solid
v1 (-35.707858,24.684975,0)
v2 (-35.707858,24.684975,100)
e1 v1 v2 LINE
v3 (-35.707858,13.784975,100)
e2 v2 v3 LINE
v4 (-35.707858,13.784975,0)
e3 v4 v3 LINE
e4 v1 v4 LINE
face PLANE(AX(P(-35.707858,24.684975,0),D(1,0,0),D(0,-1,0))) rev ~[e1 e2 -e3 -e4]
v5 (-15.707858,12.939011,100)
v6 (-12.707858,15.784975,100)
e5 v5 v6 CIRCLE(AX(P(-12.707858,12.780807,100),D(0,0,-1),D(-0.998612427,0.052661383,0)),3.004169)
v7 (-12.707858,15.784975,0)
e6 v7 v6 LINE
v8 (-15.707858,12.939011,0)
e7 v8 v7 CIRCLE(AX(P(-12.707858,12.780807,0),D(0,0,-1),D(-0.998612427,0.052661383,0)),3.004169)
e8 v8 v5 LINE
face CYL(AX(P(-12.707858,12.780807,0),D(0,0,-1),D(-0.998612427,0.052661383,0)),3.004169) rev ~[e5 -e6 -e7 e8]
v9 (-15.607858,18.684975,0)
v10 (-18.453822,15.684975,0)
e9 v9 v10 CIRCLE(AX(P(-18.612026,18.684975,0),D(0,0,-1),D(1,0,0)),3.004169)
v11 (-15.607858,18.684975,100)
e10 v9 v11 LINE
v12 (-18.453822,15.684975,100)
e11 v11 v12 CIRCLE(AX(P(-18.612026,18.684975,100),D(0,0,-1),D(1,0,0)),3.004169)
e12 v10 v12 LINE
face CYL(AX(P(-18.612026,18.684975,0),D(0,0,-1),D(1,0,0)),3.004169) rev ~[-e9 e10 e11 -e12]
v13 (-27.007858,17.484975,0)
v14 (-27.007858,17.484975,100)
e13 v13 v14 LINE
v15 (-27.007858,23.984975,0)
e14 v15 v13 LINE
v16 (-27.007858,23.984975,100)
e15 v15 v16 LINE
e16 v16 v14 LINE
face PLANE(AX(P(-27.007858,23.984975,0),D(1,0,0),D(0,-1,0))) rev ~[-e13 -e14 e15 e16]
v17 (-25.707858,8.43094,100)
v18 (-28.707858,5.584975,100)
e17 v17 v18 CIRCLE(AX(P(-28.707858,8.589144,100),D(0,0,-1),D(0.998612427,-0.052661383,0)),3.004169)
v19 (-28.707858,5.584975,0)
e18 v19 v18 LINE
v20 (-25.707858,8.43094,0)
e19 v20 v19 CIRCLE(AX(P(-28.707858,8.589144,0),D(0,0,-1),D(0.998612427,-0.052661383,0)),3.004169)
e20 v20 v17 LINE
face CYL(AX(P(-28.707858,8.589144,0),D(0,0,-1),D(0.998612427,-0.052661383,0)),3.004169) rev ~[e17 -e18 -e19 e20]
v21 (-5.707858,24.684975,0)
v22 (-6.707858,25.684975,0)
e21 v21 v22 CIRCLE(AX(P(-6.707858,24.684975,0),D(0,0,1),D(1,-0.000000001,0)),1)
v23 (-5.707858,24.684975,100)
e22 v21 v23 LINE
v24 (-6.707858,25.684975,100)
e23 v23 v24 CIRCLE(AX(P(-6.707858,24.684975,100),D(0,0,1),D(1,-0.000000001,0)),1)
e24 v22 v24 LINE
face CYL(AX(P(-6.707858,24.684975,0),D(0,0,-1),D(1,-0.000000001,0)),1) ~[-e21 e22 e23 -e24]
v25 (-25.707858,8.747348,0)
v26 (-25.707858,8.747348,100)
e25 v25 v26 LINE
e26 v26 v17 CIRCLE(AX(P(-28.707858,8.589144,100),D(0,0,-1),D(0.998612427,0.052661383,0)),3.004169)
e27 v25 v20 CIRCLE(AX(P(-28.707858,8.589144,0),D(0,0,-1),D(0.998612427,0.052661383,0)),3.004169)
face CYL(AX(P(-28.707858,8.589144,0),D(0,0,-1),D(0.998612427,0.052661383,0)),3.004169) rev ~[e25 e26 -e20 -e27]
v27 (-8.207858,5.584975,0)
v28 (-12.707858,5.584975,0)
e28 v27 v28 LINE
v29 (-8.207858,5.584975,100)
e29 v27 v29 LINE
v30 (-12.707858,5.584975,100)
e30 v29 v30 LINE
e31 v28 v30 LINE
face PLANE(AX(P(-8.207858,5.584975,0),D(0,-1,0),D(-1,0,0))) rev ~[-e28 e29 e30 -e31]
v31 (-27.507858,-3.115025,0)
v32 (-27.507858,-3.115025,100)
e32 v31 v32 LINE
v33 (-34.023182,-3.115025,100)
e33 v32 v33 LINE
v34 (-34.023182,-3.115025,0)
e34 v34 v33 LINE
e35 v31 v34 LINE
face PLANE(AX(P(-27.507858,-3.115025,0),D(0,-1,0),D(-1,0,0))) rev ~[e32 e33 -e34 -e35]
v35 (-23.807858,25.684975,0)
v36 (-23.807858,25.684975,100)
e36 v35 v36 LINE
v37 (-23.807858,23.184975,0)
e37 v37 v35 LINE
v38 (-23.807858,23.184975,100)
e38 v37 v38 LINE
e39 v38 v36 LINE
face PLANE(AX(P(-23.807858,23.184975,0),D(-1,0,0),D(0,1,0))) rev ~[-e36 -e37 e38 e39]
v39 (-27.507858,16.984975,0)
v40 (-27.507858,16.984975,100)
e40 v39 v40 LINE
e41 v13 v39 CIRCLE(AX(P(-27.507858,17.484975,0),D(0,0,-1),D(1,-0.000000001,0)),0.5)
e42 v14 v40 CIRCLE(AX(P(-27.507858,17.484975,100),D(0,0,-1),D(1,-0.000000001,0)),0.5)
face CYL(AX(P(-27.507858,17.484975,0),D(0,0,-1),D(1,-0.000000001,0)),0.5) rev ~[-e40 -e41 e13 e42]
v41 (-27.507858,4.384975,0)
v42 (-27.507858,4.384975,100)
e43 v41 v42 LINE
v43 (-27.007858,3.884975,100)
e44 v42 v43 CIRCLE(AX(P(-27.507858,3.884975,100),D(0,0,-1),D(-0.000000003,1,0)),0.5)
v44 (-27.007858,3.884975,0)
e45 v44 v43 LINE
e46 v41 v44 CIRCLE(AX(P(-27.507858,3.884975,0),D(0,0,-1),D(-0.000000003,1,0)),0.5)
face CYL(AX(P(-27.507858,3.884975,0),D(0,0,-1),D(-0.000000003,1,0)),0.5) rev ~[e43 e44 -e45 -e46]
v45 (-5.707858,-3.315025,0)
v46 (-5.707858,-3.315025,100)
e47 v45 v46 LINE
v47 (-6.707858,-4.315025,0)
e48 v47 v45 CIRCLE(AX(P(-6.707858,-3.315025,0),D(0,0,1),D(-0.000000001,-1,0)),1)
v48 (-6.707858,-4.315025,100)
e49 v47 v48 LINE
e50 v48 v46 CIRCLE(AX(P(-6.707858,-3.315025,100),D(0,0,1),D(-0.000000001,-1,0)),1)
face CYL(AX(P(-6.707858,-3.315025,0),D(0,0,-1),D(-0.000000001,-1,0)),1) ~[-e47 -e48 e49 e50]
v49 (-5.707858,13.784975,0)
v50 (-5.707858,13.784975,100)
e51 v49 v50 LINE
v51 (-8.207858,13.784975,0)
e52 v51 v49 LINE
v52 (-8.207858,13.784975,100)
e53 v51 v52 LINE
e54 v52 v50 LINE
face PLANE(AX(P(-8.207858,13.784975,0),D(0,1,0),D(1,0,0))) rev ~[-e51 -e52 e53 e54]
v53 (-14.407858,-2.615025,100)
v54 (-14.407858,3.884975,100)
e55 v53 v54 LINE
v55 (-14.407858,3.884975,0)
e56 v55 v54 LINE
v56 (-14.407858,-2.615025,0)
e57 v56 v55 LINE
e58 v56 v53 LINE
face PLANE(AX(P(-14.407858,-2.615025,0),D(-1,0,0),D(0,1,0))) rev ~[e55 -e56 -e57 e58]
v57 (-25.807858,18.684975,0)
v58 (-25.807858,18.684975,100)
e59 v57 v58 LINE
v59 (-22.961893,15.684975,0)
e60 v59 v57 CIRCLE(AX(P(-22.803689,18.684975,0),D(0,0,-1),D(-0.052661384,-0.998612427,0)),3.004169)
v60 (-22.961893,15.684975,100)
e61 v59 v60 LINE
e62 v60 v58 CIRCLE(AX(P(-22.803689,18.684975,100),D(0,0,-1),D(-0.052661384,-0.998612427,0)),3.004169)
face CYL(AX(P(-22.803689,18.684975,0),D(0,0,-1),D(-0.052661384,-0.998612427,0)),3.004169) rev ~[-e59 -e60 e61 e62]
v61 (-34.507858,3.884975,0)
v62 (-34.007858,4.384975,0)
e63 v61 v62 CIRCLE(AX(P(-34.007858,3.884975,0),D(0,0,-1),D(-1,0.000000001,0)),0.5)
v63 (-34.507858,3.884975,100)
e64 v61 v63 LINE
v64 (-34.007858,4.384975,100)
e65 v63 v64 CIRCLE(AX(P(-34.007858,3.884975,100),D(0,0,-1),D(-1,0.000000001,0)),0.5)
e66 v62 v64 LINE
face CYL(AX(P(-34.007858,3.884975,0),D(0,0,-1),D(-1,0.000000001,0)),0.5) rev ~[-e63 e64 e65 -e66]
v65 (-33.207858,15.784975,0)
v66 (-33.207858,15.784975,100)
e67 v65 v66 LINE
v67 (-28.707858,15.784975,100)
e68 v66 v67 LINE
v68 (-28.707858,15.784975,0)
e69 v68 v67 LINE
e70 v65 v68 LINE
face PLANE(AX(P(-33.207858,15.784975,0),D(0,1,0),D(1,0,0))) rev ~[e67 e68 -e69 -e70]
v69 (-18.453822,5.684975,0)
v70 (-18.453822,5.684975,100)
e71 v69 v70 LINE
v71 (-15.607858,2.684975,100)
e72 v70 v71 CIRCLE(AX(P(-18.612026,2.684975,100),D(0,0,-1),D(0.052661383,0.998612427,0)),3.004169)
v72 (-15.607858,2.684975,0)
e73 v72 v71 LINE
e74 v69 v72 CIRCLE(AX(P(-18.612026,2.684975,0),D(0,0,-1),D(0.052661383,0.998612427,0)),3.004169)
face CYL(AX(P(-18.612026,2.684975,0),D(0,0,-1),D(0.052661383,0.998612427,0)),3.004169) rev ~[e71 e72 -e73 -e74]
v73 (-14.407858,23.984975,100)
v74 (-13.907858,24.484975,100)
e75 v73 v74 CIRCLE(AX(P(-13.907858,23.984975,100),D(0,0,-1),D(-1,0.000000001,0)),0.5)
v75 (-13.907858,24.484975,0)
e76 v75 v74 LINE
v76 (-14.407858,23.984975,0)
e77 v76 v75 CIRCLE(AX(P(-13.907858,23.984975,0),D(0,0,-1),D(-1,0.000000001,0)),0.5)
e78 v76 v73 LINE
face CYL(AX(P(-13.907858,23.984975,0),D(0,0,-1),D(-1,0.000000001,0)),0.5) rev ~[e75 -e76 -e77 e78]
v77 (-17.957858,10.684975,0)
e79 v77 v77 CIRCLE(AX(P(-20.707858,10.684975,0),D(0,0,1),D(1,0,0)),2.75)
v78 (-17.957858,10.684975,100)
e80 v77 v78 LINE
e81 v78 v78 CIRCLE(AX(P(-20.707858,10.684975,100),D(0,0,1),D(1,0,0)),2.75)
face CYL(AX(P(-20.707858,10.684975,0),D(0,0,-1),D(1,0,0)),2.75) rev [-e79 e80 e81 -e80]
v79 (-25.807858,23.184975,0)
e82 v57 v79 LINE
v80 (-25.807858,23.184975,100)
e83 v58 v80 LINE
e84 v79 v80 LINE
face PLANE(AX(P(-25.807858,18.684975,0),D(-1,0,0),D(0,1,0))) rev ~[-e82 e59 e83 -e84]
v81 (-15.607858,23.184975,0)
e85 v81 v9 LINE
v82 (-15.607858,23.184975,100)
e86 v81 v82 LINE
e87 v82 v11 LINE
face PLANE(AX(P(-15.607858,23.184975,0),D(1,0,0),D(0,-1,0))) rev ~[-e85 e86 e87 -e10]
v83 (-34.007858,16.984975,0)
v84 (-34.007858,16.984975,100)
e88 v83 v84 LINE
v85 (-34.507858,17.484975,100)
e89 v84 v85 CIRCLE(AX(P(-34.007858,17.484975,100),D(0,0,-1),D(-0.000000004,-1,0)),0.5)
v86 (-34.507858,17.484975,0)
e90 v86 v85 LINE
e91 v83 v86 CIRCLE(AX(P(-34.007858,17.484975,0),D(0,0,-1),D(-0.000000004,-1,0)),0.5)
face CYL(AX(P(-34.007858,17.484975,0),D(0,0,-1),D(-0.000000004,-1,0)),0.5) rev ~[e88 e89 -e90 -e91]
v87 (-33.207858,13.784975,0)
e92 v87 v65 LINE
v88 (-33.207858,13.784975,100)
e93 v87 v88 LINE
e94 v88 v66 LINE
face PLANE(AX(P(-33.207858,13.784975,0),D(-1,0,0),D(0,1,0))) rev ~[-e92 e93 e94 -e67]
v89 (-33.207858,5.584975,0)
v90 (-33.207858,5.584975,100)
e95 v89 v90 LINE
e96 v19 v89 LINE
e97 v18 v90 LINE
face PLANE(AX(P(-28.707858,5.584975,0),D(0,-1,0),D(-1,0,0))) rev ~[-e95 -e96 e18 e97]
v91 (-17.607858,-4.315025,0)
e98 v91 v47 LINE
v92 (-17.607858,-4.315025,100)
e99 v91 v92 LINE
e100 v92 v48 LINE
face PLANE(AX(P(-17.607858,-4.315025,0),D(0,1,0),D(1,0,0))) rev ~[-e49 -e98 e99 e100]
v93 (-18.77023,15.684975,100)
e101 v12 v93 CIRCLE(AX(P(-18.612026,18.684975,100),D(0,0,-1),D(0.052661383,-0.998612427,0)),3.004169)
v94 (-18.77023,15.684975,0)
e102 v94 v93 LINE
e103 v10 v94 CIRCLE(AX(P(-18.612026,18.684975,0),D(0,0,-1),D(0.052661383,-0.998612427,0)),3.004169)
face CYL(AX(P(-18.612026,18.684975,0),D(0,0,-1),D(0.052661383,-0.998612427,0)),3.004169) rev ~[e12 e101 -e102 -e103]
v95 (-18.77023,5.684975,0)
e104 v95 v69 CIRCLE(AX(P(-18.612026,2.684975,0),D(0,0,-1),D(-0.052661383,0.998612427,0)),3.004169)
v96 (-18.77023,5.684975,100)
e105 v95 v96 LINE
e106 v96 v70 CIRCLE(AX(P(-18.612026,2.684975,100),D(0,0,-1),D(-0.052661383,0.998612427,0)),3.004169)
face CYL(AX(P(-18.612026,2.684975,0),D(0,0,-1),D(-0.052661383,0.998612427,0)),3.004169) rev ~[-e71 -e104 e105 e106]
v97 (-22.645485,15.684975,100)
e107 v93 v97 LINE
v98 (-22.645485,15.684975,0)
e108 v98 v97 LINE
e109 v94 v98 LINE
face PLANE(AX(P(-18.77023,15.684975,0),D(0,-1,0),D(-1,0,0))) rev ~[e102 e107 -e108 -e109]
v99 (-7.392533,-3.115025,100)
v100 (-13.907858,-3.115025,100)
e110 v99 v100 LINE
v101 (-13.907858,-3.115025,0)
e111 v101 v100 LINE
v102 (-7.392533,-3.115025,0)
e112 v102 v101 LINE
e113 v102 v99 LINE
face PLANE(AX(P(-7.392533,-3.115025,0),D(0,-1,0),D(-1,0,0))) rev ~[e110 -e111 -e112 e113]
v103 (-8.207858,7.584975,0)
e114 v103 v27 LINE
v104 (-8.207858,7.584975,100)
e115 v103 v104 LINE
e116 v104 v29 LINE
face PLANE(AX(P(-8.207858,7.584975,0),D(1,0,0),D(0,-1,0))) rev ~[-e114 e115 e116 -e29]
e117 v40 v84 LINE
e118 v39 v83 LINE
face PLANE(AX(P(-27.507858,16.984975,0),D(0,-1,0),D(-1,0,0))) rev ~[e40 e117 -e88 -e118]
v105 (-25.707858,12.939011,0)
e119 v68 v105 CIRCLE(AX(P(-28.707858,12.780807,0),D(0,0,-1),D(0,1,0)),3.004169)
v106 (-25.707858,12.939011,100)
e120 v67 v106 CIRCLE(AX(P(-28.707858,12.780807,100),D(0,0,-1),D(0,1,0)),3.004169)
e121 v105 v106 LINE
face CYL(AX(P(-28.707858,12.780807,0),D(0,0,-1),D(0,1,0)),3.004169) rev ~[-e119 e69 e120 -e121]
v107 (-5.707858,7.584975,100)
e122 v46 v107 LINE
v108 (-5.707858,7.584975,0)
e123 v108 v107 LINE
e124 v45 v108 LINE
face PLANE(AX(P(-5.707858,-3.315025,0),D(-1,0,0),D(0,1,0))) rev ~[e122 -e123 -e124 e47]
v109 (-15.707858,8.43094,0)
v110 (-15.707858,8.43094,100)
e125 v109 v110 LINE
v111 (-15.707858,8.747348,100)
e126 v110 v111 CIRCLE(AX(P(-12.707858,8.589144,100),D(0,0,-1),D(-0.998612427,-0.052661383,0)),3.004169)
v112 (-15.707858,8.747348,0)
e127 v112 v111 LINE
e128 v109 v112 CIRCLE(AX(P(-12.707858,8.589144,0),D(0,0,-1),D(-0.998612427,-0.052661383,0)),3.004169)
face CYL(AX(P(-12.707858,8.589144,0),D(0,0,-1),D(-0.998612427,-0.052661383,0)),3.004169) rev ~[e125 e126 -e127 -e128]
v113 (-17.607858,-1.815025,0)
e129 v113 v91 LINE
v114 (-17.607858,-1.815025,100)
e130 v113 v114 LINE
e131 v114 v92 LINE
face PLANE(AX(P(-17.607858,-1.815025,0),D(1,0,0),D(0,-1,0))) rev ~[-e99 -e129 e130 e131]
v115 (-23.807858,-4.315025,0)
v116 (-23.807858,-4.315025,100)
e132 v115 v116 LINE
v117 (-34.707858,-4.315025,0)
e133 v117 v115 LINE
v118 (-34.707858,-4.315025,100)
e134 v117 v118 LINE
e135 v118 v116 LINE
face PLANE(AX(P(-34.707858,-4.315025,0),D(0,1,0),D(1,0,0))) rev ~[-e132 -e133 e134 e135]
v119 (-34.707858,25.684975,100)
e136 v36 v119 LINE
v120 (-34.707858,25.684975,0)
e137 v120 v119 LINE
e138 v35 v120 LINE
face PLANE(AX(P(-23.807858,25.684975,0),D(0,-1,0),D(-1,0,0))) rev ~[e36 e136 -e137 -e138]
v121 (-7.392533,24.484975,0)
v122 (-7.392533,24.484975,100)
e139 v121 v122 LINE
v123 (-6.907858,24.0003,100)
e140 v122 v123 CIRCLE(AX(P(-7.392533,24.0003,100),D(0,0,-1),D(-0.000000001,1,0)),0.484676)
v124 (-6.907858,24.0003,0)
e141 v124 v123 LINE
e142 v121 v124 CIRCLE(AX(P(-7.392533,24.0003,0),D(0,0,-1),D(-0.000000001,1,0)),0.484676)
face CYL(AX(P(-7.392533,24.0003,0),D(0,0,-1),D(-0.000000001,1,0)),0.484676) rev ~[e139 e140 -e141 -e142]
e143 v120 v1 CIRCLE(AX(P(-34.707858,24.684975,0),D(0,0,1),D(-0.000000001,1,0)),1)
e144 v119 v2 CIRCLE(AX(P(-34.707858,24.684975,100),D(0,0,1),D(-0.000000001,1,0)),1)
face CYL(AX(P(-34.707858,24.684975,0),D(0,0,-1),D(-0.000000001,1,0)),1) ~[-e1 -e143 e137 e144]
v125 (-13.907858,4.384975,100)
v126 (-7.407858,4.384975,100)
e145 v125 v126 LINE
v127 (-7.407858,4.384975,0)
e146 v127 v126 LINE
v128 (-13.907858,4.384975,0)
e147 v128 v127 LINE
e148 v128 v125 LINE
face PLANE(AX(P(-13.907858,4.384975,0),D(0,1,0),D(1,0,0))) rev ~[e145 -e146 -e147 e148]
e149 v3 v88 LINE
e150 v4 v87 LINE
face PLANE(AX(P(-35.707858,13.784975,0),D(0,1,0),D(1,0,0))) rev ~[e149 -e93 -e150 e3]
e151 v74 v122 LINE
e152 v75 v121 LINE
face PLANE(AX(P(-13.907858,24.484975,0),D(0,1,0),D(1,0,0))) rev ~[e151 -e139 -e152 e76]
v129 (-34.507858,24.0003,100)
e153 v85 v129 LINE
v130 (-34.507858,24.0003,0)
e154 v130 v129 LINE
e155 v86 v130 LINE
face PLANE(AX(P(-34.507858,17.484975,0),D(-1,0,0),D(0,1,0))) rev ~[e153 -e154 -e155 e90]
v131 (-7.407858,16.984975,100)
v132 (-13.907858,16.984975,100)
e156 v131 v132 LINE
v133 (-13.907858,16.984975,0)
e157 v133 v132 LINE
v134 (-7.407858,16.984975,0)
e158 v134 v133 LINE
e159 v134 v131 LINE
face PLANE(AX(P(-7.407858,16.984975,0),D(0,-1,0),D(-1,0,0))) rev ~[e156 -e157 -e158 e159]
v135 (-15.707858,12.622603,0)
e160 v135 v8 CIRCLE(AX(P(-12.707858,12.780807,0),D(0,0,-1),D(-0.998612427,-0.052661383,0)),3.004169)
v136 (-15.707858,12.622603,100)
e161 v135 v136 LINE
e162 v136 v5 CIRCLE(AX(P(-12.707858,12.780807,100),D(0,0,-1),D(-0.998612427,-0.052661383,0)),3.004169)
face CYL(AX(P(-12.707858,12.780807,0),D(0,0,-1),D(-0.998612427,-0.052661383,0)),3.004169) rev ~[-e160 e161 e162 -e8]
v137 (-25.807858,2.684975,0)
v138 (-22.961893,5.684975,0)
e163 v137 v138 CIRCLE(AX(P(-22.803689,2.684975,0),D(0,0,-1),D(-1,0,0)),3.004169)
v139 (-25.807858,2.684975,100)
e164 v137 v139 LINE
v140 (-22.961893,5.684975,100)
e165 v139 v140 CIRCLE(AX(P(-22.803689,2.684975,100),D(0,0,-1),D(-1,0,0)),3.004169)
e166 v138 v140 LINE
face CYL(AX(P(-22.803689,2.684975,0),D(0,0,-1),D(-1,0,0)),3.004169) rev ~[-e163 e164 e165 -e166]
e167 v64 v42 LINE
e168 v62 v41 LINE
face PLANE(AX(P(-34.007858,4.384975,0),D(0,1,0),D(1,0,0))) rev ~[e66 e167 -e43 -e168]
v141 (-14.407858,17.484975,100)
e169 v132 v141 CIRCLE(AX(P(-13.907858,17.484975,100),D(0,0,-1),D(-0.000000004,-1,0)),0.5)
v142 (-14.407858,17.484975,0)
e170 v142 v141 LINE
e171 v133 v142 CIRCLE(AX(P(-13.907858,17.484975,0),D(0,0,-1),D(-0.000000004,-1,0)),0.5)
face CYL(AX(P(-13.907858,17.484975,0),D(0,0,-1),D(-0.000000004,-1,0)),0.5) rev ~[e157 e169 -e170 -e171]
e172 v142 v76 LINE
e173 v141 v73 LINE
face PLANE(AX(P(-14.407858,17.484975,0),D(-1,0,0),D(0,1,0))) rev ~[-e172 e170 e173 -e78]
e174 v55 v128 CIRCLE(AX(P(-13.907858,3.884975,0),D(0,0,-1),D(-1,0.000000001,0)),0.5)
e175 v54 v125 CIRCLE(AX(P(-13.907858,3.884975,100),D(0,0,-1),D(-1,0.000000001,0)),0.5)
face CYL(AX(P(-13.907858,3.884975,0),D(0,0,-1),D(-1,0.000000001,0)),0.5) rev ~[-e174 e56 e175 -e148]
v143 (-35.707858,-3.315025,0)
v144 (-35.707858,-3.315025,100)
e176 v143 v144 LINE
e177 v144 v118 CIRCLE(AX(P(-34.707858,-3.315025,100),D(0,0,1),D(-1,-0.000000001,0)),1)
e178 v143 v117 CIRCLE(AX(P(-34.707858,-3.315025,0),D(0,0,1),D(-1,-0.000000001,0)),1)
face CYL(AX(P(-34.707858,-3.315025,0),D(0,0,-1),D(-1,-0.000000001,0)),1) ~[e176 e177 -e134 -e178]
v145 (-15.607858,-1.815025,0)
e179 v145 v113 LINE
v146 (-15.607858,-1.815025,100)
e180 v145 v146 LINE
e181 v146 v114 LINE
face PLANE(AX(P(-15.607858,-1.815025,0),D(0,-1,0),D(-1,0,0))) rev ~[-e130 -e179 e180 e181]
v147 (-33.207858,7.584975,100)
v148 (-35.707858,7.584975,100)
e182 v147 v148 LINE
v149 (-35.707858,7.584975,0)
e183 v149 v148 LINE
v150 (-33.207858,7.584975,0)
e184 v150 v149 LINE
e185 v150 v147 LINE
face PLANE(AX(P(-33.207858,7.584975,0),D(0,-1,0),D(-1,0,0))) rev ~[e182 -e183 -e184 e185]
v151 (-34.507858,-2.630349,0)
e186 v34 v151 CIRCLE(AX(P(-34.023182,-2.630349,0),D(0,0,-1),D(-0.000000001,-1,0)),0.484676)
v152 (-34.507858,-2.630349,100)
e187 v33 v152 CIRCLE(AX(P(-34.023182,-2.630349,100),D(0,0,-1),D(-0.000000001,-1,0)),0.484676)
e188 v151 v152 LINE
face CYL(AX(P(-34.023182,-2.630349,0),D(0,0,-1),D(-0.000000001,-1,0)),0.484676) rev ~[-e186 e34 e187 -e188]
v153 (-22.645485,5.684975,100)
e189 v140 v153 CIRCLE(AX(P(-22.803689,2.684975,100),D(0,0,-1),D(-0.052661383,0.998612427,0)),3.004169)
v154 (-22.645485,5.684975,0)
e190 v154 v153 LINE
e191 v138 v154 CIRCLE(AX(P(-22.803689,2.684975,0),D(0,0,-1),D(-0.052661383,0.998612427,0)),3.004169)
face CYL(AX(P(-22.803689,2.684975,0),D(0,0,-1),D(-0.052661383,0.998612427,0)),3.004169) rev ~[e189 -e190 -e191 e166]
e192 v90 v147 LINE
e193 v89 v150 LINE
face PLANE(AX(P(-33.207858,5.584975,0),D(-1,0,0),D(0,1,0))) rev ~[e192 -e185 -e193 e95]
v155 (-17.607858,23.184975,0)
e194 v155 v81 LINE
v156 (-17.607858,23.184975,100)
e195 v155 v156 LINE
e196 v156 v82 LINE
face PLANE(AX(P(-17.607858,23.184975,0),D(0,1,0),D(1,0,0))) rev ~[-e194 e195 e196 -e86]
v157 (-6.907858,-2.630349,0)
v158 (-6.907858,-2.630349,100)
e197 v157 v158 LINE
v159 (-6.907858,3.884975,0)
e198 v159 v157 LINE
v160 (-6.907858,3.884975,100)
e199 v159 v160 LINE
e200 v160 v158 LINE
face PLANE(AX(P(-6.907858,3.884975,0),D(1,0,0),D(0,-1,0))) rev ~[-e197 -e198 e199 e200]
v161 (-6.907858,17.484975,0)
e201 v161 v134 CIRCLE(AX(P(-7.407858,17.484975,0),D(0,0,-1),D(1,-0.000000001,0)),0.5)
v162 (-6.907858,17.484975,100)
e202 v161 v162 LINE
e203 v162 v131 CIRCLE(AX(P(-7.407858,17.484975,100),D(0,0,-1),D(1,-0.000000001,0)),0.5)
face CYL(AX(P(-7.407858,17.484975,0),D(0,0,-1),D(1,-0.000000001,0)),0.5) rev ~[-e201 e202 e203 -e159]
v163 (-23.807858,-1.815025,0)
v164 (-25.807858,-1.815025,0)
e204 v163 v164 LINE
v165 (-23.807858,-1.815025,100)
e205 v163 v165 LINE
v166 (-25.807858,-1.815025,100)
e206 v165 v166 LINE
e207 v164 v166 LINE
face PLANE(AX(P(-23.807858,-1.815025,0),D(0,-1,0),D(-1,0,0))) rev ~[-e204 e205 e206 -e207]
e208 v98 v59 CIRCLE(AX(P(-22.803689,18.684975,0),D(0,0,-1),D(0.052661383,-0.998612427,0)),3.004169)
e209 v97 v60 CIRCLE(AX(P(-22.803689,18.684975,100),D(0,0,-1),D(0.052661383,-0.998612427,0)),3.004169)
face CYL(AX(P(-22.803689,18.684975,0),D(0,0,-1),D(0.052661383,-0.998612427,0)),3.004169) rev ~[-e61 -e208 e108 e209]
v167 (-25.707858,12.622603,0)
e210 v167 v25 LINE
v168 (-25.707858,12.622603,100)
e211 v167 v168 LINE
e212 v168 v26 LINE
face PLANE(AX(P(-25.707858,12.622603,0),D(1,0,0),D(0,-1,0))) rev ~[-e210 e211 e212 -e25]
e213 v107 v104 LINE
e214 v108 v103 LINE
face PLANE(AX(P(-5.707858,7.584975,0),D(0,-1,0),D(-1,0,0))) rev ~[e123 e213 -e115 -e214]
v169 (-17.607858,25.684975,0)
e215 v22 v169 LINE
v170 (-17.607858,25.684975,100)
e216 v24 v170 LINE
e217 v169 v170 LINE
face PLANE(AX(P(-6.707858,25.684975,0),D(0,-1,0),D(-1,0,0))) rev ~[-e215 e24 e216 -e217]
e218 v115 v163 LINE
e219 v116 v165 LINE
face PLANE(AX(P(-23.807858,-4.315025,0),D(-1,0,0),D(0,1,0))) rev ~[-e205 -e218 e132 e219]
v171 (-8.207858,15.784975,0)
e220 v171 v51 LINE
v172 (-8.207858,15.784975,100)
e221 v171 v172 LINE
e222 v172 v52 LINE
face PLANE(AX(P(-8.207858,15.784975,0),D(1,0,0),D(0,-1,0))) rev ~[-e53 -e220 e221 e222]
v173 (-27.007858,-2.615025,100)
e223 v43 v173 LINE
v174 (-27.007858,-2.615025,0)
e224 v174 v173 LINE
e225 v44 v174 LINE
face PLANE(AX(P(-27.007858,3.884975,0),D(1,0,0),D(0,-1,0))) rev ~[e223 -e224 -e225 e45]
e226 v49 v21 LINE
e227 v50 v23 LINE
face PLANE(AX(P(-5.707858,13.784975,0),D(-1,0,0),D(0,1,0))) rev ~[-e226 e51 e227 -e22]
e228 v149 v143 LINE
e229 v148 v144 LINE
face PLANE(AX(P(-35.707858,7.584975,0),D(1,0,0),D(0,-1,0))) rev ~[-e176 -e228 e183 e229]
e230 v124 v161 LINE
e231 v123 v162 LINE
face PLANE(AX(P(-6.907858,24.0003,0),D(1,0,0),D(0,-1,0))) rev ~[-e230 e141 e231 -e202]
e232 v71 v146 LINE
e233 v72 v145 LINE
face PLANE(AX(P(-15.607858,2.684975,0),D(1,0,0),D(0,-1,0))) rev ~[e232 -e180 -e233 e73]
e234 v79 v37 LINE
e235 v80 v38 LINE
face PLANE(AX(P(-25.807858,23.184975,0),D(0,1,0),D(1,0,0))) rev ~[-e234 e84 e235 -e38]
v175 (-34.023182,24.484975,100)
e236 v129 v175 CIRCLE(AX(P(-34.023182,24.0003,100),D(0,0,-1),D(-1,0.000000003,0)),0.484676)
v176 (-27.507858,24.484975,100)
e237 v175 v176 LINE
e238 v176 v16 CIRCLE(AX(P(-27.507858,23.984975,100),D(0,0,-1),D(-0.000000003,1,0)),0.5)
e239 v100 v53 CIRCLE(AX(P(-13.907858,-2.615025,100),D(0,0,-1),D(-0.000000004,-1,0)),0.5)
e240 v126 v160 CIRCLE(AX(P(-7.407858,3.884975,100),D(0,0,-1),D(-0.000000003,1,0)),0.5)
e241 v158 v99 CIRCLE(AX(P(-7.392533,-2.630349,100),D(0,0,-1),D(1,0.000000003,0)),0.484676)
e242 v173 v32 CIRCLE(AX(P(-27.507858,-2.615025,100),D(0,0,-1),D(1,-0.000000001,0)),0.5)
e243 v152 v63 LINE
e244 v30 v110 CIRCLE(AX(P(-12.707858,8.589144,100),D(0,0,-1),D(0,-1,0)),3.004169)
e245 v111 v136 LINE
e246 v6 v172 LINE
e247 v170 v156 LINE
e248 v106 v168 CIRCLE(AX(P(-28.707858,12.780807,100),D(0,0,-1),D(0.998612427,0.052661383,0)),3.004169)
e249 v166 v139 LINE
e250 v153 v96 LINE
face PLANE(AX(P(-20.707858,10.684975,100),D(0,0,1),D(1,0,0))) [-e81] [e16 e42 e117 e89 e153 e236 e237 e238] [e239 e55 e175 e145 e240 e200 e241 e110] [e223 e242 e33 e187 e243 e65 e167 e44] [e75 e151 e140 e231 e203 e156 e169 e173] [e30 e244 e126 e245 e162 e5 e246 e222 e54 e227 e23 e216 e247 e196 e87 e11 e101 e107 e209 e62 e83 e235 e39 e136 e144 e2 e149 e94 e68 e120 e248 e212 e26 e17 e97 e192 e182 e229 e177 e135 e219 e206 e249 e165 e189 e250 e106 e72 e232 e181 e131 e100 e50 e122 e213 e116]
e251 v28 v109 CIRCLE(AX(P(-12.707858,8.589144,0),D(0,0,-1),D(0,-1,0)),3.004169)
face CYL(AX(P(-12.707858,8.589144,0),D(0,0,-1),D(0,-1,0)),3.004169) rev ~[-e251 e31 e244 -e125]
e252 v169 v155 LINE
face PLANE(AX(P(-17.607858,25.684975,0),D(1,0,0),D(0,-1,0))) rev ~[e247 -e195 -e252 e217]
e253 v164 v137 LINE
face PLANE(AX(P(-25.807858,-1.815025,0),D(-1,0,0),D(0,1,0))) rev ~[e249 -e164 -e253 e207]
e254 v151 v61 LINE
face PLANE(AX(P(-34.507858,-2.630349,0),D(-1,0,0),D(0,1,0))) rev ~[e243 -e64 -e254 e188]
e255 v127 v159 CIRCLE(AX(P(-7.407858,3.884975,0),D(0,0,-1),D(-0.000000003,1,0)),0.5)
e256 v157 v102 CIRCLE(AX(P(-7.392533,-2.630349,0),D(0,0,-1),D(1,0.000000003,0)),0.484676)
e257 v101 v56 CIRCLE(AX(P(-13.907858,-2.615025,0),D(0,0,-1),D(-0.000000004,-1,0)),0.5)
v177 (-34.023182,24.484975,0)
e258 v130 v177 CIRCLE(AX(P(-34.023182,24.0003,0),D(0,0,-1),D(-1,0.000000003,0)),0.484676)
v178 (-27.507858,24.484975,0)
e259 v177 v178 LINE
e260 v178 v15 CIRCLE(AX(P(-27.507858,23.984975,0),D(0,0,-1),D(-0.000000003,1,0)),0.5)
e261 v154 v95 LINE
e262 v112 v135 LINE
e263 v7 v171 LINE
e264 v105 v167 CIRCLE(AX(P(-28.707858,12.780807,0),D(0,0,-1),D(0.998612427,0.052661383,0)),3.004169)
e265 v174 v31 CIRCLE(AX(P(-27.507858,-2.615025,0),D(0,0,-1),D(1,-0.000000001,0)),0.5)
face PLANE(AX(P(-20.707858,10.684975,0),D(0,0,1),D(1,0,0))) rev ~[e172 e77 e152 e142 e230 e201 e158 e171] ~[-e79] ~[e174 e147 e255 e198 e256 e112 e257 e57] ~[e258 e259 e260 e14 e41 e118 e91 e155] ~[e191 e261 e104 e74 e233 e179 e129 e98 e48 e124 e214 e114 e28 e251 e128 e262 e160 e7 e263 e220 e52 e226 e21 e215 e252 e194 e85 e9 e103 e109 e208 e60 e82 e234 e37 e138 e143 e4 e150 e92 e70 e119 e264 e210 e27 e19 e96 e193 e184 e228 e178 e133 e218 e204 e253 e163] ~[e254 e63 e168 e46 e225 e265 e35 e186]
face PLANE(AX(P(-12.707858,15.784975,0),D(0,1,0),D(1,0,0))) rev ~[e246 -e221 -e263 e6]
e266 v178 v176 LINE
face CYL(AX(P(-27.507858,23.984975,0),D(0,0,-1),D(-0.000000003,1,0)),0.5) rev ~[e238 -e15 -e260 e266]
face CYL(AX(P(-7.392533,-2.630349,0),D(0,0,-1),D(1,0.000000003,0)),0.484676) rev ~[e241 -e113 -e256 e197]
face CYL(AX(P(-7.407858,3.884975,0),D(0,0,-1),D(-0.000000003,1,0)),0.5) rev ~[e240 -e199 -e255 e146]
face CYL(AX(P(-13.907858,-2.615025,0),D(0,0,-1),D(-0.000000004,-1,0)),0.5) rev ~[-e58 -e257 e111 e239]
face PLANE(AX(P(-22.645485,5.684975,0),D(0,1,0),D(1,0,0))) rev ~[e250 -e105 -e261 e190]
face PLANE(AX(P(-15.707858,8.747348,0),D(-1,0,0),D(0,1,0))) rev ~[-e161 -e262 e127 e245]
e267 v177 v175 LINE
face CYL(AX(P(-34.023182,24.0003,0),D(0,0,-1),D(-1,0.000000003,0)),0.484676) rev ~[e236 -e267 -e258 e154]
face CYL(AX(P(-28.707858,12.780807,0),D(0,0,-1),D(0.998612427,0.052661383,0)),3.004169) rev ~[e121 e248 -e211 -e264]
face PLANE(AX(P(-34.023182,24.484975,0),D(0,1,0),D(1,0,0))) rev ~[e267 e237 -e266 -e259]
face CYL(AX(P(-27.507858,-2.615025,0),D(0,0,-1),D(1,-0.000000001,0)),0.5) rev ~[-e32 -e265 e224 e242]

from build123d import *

# Parameters (mm, degrees)
SKETCH1_6_R         = 2.75
BOSS_EXTRUDE3_DEPTH = 100


with BuildPart() as part:
    # Sketch1_6 → Boss-Extrude3 (new body)
    with BuildSketch(Plane.XY):
        with BuildLine():
            Line((-8.207857566, 15.784975365), (-8.207857566, 13.784975365))
            Line((-8.207857566, 13.784975365), (-5.707857566, 13.784975365))
            Line((-5.707857566, 13.784975365), (-5.707857566, 24.684975365))
            ThreePointArc((-5.707857566, 24.684975365), (-6.000750784, 25.392082146), (-6.707857566, 25.684975365))
            Line((-6.707857566, 25.684975365), (-17.607857566, 25.684975365))
            Line((-17.607857566, 25.684975365), (-17.607857566, 23.184975365))
            Line((-17.607857566, 23.184975365), (-15.607857566, 23.184975365))
            Line((-15.607857566, 23.184975365), (-15.607857566, 18.878818393))
            Line((-15.607857566, 18.878818393), (-15.607857566, 18.684975365))
            ThreePointArc((-15.607857566, 18.684975365), (-16.432542315, 16.617397323), (-18.453822402, 15.684975365))
            ThreePointArc((-18.453822402, 15.684975365), (-18.61202607, 15.680806861), (-18.770229737, 15.684975365))
            Line((-18.770229737, 15.684975365), (-22.645485394, 15.684975365))
            ThreePointArc((-22.645485394, 15.684975365), (-22.803689062, 15.680806861), (-22.961892729, 15.684975365))
            ThreePointArc((-22.961892729, 15.684975365), (-24.983172816, 16.617397323), (-25.807857566, 18.684975365))
            Line((-25.807857566, 18.684975365), (-25.807857566, 18.878818393))
            Line((-25.807857566, 18.878818393), (-25.807857566, 23.184975365))
            Line((-25.807857566, 23.184975365), (-23.807857566, 23.184975365))
            Line((-23.807857566, 23.184975365), (-23.807857566, 25.684975365))
            Line((-23.807857566, 25.684975365), (-34.707857566, 25.684975365))
            ThreePointArc((-34.707857566, 25.684975365), (-35.414964347, 25.392082146), (-35.707857566, 24.684975365))
            Line((-35.707857566, 24.684975365), (-35.707857566, 13.784975365))
            Line((-35.707857566, 13.784975365), (-33.207857566, 13.784975365))
            Line((-33.207857566, 13.784975365), (-33.207857566, 15.784975365))
            Line((-33.207857566, 15.784975365), (-28.901700593, 15.784975365))
            Line((-28.901700593, 15.784975365), (-28.707857566, 15.784975365))
            ThreePointArc((-28.707857566, 15.784975365), (-26.640279523, 14.960290616), (-25.707857566, 12.939010529))
            ThreePointArc((-25.707857566, 12.939010529), (-25.703689062, 12.780806861), (-25.707857566, 12.622603193))
            Line((-25.707857566, 12.622603193), (-25.707857566, 8.747347537))
            ThreePointArc((-25.707857566, 8.747347537), (-25.703689062, 8.589143869), (-25.707857566, 8.430940201))
            ThreePointArc((-25.707857566, 8.430940201), (-26.640279523, 6.409660114), (-28.707857566, 5.584975365))
            Line((-28.707857566, 5.584975365), (-28.901700593, 5.584975365))
            Line((-28.901700593, 5.584975365), (-33.207857566, 5.584975365))
            Line((-33.207857566, 5.584975365), (-33.207857566, 7.584975365))
            Line((-33.207857566, 7.584975365), (-35.707857566, 7.584975365))
            Line((-35.707857566, 7.584975365), (-35.707857566, -3.315024635))
            ThreePointArc((-35.707857566, -3.315024635), (-35.414964347, -4.022131416), (-34.707857566, -4.315024635))
            Line((-34.707857566, -4.315024635), (-23.807857566, -4.315024635))
            Line((-23.807857566, -4.315024635), (-23.807857566, -1.815024635))
            Line((-23.807857566, -1.815024635), (-25.807857566, -1.815024635))
            Line((-25.807857566, -1.815024635), (-25.807857566, 2.491132338))
            Line((-25.807857566, 2.491132338), (-25.807857566, 2.684975365))
            ThreePointArc((-25.807857566, 2.684975365), (-24.983172816, 4.752553408), (-22.961892729, 5.684975365))
            ThreePointArc((-22.961892729, 5.684975365), (-22.803689062, 5.689143869), (-22.645485394, 5.684975365))
            Line((-22.645485394, 5.684975365), (-18.770229737, 5.684975365))
            ThreePointArc((-18.770229737, 5.684975365), (-18.61202607, 5.689143869), (-18.453822402, 5.684975365))
            ThreePointArc((-18.453822402, 5.684975365), (-16.432542315, 4.752553408), (-15.607857566, 2.684975365))
            Line((-15.607857566, 2.684975365), (-15.607857566, 2.491132338))
            Line((-15.607857566, 2.491132338), (-15.607857566, -1.815024635))
            Line((-15.607857566, -1.815024635), (-17.607857566, -1.815024635))
            Line((-17.607857566, -1.815024635), (-17.607857566, -4.315024635))
            Line((-17.607857566, -4.315024635), (-6.707857566, -4.315024635))
            ThreePointArc((-6.707857566, -4.315024635), (-6.000750784, -4.022131416), (-5.707857566, -3.315024635))
            Line((-5.707857566, -3.315024635), (-5.707857566, 7.584975365))
            Line((-5.707857566, 7.584975365), (-8.207857566, 7.584975365))
            Line((-8.207857566, 7.584975365), (-8.207857566, 5.584975365))
            Line((-8.207857566, 5.584975365), (-12.514014538, 5.584975365))
            Line((-12.514014538, 5.584975365), (-12.707857566, 5.584975365))
            ThreePointArc((-12.707857566, 5.584975365), (-14.775435608, 6.409660114), (-15.707857566, 8.430940201))
            ThreePointArc((-15.707857566, 8.430940201), (-15.71202607, 8.589143869), (-15.707857566, 8.747347537))
            Line((-15.707857566, 8.747347537), (-15.707857566, 12.622603193))
            ThreePointArc((-15.707857566, 12.622603193), (-15.71202607, 12.780806861), (-15.707857566, 12.939010529))
            ThreePointArc((-15.707857566, 12.939010529), (-14.775435608, 14.960290616), (-12.707857566, 15.784975365))
            Line((-12.707857566, 15.784975365), (-12.514014538, 15.784975365))
            Line((-12.514014538, 15.784975365), (-8.207857566, 15.784975365))
        make_face()
        with BuildLine():
            Line((-34.507857566, -2.63034887), (-34.507857566, 3.884975365))
            ThreePointArc((-34.507857566, 3.884975365), (-34.361410956, 4.238528756), (-34.007857566, 4.384975365))
            Line((-34.007857566, 4.384975365), (-27.507857566, 4.384975365))
            ThreePointArc((-27.507857566, 4.384975365), (-27.154304175, 4.238528756), (-27.007857566, 3.884975365))
            Line((-27.007857566, 3.884975365), (-27.007857566, -2.615024635))
            ThreePointArc((-27.007857566, -2.615024635), (-27.154304175, -2.968578025), (-27.507857566, -3.115024635))
            Line((-27.507857566, -3.115024635), (-34.023181801, -3.115024635))
            ThreePointArc((-34.023181801, -3.115024635), (-34.365899321, -2.97306639), (-34.507857566, -2.63034887))
        make_face(mode=Mode.SUBTRACT)
        with BuildLine():
            Line((-7.39253333, -3.115024635), (-13.907857566, -3.115024635))
            ThreePointArc((-13.907857566, -3.115024635), (-14.261410956, -2.968578025), (-14.407857566, -2.615024635))
            Line((-14.407857566, -2.615024635), (-14.407857566, 3.884975365))
            ThreePointArc((-14.407857566, 3.884975365), (-14.261410956, 4.238528756), (-13.907857566, 4.384975365))
            Line((-13.907857566, 4.384975365), (-7.407857566, 4.384975365))
            ThreePointArc((-7.407857566, 4.384975365), (-7.054304175, 4.238528756), (-6.907857566, 3.884975365))
            Line((-6.907857566, 3.884975365), (-6.907857566, -2.63034887))
            ThreePointArc((-6.907857566, -2.63034887), (-7.04981581, -2.97306639), (-7.39253333, -3.115024635))
        make_face(mode=Mode.SUBTRACT)
        with BuildLine():
            Line((-34.023181801, 24.484975365), (-27.507857566, 24.484975365))
            ThreePointArc((-27.507857566, 24.484975365), (-27.154304175, 24.338528756), (-27.007857566, 23.984975365))
            Line((-27.007857566, 23.984975365), (-27.007857566, 17.484975365))
            ThreePointArc((-27.007857566, 17.484975365), (-27.154304175, 17.131421975), (-27.507857566, 16.984975365))
            Line((-27.507857566, 16.984975365), (-34.007857566, 16.984975365))
            ThreePointArc((-34.007857566, 16.984975365), (-34.361410956, 17.131421975), (-34.507857566, 17.484975365))
            Line((-34.507857566, 17.484975365), (-34.507857566, 24.000299601))
            ThreePointArc((-34.507857566, 24.000299601), (-34.365899321, 24.34301712), (-34.023181801, 24.484975365))
        make_face(mode=Mode.SUBTRACT)
        with Locations((-20.707857566, 10.684975365)):
            Circle(SKETCH1_6_R, mode=Mode.SUBTRACT)
        with BuildLine():
            Line((-6.907857566, 24.000299601), (-6.907857566, 17.484975365))
            ThreePointArc((-6.907857566, 17.484975365), (-7.054304175, 17.131421975), (-7.407857566, 16.984975365))
            Line((-7.407857566, 16.984975365), (-13.907857566, 16.984975365))
            ThreePointArc((-13.907857566, 16.984975365), (-14.261410956, 17.131421975), (-14.407857566, 17.484975365))
            Line((-14.407857566, 17.484975365), (-14.407857566, 23.984975365))
            ThreePointArc((-14.407857566, 23.984975365), (-14.261410956, 24.338528756), (-13.907857566, 24.484975365))
            Line((-13.907857566, 24.484975365), (-7.39253333, 24.484975365))
            ThreePointArc((-7.39253333, 24.484975365), (-7.04981581, 24.34301712), (-6.907857566, 24.000299601))
        make_face(mode=Mode.SUBTRACT)
    extrude(amount=BOSS_EXTRUDE3_DEPTH)


solid = part.part
